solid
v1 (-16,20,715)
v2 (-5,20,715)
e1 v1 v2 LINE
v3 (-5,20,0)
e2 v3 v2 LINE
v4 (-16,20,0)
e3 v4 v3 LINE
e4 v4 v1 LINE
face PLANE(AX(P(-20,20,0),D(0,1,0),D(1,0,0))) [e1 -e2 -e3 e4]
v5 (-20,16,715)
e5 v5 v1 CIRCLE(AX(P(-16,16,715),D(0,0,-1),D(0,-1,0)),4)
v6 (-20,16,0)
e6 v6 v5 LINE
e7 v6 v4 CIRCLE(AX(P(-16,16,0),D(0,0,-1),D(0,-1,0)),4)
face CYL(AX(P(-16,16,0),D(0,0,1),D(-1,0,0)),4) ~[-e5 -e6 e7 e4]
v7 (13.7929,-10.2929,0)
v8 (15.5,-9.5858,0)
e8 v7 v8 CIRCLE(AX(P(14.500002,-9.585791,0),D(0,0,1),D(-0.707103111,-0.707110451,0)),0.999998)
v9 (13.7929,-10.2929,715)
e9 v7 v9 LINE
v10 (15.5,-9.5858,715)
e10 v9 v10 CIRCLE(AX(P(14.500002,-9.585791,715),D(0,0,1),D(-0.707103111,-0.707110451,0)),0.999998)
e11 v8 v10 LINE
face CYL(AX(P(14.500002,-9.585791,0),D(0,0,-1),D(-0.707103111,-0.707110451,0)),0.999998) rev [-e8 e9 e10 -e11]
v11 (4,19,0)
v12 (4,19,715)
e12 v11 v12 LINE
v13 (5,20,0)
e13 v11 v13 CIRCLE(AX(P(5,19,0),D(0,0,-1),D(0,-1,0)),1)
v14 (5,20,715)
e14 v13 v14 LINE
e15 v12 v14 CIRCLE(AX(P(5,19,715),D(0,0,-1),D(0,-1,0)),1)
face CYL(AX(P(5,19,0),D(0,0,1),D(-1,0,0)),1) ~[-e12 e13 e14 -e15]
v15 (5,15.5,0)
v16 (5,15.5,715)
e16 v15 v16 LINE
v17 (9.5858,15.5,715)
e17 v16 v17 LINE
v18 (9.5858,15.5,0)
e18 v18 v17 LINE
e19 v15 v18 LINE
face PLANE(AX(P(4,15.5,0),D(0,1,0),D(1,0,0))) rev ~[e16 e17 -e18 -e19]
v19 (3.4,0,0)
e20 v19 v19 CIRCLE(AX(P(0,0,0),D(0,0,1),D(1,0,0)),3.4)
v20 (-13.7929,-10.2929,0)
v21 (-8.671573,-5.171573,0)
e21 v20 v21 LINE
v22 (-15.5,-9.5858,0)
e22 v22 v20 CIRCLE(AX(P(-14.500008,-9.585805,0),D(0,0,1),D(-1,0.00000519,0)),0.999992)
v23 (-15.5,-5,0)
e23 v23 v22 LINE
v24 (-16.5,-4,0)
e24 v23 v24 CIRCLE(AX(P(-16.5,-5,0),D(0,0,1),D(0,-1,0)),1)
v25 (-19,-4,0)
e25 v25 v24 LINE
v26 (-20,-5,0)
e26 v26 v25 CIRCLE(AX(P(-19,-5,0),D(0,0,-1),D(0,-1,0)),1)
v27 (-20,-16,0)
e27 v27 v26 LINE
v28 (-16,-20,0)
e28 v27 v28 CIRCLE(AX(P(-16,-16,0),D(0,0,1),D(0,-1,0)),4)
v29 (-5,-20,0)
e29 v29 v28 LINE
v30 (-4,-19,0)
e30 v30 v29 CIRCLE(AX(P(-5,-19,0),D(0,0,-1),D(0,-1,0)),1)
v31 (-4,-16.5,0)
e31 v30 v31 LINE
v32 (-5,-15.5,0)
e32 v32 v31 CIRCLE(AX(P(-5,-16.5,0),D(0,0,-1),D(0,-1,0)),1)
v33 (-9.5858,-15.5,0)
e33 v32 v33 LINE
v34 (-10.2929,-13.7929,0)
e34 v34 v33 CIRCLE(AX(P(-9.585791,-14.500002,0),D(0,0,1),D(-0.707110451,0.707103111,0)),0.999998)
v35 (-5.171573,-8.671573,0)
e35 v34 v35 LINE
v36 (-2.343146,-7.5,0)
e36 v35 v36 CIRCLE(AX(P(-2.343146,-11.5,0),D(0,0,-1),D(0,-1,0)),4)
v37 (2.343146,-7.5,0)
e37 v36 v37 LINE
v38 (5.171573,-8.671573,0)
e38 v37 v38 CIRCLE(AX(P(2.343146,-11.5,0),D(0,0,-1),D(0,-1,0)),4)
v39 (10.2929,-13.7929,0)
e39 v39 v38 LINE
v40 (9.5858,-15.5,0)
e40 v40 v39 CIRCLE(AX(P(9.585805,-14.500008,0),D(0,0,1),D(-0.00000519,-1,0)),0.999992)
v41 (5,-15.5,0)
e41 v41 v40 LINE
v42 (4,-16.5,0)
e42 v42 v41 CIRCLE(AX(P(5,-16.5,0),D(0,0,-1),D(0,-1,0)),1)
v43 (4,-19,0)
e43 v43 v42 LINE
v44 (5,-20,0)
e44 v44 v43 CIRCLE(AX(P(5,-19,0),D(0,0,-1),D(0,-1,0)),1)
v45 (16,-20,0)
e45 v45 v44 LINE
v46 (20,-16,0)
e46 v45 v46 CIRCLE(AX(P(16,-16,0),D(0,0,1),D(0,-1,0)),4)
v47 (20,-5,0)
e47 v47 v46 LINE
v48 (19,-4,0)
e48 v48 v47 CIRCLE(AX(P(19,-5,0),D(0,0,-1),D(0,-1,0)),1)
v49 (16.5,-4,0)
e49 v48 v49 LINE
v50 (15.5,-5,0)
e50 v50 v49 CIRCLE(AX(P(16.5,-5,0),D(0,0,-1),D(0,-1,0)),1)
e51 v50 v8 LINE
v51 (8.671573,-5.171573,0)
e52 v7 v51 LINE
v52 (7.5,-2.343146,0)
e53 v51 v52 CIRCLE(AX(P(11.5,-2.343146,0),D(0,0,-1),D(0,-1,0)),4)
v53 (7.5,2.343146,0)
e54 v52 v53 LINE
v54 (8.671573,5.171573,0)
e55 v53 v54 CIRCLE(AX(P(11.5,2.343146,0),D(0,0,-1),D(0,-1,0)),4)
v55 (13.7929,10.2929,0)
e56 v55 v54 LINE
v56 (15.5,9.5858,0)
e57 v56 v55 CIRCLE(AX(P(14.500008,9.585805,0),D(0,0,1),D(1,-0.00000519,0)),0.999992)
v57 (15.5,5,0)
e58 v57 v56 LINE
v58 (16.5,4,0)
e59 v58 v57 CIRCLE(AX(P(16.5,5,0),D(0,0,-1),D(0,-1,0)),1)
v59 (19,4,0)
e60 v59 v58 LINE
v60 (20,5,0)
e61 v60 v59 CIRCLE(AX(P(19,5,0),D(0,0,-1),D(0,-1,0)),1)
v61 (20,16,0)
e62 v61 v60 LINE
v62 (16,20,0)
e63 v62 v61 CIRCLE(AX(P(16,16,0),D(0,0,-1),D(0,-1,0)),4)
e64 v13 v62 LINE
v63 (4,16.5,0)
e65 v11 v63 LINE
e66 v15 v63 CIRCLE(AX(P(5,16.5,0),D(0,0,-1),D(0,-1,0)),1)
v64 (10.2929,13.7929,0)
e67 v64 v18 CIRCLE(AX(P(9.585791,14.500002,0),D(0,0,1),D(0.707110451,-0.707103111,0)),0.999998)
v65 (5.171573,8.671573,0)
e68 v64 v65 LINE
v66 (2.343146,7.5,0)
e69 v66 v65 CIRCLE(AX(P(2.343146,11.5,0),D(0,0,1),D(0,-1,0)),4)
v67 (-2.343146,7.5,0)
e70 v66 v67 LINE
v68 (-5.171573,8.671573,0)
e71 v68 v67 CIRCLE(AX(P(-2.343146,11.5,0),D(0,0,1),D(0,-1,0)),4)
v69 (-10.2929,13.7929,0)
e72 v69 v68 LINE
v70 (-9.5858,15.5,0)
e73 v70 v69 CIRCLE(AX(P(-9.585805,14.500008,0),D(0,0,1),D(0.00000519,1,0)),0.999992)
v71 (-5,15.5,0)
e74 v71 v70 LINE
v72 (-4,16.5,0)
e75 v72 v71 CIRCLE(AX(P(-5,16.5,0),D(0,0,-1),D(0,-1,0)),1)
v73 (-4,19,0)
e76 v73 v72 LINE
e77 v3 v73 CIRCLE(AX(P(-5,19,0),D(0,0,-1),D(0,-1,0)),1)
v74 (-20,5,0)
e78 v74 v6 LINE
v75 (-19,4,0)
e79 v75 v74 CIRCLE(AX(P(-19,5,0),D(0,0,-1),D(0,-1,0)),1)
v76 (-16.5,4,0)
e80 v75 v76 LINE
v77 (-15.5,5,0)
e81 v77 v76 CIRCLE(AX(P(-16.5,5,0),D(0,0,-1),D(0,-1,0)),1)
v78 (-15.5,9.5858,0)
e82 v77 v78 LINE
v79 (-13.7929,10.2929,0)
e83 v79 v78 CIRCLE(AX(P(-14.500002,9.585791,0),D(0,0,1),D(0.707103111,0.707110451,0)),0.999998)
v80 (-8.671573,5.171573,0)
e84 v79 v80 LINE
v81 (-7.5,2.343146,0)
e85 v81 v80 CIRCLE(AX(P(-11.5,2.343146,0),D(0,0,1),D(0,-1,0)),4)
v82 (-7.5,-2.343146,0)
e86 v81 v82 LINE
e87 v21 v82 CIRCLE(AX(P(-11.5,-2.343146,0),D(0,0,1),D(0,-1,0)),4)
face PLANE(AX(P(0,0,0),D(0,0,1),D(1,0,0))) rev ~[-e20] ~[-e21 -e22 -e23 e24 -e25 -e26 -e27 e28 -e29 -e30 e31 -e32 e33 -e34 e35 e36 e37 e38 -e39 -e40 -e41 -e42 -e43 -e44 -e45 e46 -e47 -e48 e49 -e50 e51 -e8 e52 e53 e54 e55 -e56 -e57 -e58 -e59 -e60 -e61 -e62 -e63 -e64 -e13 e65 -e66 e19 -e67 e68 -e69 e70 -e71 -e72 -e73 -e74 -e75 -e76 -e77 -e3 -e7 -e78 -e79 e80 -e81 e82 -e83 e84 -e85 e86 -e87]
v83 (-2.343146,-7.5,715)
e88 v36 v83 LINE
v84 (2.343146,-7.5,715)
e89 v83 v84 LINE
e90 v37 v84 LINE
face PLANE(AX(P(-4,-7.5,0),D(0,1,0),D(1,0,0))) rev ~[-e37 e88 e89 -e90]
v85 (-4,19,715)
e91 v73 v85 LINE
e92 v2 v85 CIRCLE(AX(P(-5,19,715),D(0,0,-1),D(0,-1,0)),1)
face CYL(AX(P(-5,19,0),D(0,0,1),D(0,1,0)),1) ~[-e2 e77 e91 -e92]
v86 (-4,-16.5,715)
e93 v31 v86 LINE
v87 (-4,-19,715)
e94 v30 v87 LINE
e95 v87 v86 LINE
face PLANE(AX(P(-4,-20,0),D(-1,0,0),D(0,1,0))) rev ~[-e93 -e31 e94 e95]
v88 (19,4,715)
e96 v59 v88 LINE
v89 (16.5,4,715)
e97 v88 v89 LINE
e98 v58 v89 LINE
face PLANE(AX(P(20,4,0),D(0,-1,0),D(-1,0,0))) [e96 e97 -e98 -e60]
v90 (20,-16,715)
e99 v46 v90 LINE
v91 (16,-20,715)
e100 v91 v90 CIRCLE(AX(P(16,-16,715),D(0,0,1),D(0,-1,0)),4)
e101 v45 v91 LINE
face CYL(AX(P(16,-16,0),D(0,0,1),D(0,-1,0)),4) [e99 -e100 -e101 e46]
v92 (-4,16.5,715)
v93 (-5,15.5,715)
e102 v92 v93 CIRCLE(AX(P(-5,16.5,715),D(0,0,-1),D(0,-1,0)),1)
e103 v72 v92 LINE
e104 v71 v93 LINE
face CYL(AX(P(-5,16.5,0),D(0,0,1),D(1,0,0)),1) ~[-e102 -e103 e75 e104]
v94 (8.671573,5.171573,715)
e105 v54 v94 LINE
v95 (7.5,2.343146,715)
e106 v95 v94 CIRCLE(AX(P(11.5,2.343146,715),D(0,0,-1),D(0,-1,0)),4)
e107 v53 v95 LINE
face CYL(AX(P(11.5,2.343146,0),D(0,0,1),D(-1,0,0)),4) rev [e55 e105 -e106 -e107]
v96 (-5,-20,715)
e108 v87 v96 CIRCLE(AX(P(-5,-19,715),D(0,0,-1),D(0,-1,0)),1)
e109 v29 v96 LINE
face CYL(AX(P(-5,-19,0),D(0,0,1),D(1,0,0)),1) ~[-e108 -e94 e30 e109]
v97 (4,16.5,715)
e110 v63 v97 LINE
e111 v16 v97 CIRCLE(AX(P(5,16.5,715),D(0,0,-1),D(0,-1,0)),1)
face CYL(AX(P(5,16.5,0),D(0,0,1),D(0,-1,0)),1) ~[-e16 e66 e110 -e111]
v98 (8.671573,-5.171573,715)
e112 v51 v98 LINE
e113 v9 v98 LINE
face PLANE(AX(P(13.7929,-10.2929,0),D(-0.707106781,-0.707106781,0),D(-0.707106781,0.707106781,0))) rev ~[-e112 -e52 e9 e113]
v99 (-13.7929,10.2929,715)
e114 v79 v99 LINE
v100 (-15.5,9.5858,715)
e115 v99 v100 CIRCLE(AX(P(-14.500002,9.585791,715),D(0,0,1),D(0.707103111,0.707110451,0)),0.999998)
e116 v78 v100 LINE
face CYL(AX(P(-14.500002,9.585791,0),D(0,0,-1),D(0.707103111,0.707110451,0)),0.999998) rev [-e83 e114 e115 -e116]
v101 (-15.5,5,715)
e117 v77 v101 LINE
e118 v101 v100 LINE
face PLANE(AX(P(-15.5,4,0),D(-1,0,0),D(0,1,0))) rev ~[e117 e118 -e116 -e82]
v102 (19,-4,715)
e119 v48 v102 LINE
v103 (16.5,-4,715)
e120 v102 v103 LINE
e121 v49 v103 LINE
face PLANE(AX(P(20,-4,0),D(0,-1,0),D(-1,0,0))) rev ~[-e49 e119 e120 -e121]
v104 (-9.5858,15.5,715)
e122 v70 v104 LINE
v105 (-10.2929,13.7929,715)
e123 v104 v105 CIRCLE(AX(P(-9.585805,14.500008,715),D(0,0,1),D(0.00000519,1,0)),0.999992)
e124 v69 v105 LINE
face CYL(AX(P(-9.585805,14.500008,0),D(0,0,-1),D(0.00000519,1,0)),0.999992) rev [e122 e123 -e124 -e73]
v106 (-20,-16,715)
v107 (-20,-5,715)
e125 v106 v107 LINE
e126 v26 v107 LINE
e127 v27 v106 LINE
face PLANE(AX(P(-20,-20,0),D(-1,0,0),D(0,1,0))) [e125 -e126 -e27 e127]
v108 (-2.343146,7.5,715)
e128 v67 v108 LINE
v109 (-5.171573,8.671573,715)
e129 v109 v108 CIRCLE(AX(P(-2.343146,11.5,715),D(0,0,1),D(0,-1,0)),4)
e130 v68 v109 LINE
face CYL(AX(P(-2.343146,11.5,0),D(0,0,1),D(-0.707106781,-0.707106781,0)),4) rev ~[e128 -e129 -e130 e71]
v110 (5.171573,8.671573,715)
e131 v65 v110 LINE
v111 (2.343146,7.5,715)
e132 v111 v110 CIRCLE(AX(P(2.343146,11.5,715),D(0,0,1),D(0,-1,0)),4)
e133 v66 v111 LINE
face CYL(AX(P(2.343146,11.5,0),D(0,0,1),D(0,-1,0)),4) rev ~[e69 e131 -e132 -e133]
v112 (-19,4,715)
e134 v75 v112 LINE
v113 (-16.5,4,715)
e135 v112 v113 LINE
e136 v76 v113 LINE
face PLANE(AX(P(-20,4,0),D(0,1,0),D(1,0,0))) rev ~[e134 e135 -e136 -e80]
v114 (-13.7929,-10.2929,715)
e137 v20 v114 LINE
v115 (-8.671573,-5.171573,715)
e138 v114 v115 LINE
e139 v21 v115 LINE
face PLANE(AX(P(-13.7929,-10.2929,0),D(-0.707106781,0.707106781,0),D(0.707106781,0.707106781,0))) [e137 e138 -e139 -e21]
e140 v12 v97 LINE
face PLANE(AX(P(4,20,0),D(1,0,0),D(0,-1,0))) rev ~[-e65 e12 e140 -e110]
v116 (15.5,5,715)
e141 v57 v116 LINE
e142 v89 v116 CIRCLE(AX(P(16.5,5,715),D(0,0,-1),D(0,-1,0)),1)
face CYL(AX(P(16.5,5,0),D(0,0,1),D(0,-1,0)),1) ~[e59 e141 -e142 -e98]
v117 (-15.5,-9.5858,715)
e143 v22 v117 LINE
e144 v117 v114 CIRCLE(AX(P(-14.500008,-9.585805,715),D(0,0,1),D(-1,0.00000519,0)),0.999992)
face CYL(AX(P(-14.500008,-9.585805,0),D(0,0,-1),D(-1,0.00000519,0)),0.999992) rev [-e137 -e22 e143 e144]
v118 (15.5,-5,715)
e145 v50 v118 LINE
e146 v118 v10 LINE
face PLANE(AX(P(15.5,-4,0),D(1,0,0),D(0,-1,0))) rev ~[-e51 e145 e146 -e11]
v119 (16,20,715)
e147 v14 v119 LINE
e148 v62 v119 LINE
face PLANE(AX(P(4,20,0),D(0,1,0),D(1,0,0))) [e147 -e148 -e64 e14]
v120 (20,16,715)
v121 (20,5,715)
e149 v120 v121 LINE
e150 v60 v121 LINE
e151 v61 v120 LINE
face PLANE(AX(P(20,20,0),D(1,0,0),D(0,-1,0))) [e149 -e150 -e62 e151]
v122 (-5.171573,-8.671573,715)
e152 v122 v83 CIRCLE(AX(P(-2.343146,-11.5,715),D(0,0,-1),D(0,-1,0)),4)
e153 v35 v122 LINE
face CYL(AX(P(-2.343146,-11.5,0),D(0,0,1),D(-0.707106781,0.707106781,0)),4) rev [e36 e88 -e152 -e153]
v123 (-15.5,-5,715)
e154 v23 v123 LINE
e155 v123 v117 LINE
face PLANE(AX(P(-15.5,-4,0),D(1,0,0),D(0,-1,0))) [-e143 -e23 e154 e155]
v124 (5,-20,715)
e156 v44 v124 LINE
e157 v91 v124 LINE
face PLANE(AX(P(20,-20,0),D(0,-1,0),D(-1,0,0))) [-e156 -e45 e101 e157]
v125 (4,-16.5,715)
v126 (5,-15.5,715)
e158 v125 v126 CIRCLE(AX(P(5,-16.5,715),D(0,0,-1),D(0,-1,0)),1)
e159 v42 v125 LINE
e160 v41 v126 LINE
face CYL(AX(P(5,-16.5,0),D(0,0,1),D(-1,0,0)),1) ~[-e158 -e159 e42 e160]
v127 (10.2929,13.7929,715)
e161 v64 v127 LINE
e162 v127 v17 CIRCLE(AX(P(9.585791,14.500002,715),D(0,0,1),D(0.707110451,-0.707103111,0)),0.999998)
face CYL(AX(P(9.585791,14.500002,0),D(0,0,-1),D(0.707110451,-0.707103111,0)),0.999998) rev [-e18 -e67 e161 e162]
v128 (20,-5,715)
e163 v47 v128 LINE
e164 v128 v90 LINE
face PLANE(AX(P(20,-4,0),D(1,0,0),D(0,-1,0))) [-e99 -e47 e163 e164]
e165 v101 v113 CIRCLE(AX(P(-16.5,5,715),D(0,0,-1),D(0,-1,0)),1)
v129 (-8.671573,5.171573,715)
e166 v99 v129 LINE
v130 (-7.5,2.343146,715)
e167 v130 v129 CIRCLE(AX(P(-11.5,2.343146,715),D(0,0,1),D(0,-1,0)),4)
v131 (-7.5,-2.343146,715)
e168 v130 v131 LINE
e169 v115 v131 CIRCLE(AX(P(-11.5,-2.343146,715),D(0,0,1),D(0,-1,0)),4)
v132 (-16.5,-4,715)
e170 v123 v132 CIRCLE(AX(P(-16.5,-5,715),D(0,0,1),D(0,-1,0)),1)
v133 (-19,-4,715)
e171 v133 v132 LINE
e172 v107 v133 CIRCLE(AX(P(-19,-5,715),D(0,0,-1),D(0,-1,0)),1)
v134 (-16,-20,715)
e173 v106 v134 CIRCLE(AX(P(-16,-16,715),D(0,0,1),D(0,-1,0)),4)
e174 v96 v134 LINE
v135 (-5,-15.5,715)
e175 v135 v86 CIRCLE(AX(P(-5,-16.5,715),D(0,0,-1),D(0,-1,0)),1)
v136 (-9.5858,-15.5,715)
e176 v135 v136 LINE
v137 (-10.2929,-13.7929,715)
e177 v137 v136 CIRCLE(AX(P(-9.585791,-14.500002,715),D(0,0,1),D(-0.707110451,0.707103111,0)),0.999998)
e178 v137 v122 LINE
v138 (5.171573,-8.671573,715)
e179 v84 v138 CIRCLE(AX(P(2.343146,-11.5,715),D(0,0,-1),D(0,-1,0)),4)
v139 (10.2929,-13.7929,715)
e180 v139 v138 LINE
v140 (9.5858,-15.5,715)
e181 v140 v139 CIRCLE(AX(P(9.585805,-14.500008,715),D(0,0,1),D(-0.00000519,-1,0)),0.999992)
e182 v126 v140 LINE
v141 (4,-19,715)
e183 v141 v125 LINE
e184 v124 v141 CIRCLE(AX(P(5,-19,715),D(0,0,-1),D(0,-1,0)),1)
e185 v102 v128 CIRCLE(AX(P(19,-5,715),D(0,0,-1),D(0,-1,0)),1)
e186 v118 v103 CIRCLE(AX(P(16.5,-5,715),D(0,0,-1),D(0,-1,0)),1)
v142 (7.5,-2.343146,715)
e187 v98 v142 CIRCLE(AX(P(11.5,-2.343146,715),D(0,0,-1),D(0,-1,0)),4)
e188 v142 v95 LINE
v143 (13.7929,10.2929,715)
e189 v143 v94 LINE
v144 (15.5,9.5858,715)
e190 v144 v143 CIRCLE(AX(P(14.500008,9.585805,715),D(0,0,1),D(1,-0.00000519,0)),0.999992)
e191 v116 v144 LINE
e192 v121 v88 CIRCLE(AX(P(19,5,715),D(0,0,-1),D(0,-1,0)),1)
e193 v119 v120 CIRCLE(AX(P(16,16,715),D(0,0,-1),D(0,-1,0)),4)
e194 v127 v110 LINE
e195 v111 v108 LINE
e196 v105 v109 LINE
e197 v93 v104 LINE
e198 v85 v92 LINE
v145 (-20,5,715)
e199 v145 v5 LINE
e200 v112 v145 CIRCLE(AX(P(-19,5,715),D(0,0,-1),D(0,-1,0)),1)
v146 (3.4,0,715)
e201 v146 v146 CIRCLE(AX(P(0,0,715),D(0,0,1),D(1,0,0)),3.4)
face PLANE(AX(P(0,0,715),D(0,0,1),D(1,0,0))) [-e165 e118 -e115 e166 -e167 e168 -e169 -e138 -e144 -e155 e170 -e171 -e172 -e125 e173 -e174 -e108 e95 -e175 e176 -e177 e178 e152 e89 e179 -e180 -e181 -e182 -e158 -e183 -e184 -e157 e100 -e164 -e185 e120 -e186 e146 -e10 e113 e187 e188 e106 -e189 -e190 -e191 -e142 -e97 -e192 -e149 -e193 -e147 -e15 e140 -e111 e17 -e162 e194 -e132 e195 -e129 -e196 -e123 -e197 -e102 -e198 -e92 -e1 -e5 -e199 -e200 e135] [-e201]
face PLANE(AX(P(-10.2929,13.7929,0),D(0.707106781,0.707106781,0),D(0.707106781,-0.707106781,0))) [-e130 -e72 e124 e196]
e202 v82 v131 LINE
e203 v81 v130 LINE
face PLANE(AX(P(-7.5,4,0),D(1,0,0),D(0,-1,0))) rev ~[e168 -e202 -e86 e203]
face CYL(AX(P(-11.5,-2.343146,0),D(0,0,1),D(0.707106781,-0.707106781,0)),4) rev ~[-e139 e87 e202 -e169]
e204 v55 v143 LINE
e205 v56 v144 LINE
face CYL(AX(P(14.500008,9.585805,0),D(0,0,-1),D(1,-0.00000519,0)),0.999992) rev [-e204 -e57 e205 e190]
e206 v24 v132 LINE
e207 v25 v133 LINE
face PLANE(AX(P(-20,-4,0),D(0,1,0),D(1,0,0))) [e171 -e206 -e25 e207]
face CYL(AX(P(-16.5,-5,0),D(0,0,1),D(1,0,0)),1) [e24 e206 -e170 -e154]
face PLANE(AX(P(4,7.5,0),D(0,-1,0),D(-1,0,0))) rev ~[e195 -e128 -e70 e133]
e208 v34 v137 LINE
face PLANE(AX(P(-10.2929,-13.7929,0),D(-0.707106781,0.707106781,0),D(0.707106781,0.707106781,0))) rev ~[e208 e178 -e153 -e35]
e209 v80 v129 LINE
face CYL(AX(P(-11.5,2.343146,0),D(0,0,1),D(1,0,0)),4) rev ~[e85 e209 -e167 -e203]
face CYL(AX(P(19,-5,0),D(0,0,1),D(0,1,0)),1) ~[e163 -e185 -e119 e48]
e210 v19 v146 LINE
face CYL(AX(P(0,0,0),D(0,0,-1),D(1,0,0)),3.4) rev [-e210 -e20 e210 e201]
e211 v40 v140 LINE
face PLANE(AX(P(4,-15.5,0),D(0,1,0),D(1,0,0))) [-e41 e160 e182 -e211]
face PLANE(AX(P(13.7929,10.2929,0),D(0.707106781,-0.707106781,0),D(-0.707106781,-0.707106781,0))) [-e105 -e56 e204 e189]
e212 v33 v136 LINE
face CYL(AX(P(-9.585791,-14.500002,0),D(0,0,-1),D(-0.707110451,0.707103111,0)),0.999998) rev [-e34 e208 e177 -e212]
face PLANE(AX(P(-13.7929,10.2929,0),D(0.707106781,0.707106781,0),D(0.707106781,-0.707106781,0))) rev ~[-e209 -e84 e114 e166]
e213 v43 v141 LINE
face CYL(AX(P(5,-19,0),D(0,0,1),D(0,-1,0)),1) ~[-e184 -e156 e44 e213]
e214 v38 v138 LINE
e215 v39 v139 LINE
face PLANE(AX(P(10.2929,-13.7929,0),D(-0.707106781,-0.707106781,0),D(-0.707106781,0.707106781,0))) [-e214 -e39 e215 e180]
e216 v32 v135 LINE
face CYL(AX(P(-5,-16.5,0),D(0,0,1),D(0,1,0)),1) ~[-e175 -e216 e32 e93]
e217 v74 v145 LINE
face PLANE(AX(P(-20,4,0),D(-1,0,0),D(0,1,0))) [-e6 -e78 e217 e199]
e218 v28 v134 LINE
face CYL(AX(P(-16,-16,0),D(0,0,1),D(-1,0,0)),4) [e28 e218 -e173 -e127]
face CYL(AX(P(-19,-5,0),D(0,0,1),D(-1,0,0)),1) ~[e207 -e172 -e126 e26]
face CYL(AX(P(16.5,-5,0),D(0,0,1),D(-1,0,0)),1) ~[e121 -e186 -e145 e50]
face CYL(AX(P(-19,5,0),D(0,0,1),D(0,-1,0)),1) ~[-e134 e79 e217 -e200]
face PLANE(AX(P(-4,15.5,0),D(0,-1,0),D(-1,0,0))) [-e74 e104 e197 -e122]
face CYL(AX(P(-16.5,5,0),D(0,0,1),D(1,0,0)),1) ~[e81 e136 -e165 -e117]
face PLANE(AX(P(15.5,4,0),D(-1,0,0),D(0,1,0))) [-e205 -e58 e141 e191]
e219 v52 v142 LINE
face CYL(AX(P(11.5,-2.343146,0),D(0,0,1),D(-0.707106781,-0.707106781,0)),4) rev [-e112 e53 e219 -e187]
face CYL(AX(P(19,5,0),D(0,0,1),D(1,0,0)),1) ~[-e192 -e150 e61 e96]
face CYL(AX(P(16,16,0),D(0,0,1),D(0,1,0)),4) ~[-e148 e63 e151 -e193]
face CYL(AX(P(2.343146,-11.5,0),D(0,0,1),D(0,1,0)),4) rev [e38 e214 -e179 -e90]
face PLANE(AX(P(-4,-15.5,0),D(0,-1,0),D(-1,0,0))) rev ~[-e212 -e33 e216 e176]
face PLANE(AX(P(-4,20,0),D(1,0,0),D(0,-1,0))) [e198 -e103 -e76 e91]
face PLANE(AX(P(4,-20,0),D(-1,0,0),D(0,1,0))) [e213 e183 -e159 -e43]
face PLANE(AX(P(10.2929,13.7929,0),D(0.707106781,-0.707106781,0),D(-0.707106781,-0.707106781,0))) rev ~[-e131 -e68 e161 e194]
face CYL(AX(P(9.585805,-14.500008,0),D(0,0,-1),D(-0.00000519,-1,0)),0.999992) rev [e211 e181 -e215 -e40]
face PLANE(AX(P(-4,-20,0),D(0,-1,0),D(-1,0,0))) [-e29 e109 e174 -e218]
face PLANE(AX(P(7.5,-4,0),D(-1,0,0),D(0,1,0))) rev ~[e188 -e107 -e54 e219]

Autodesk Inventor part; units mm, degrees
ref_plane "YZ Plane" through (0, 0, 0) normal (1, 0, 0) x (0, 1, 0)
ref_plane "XZ Plane" through (0, 0, 0) normal (0, 1, 0) x (-1, 0, 0)
ref_plane "XY Plane" through (0, 0, 0) normal (0, 0, 1) x (1, 0, 0)
sketch "T-Slot 4040 Base" plane through (0, 0, 0) normal (0, 0, 1) x (1, 0, 0)
  line L0 (-28, 0) -> (28, 0) construction
  line L1 (0, -28) -> (0, 28) construction
  circle A0 centre (0, 0) radius 3.4
  line L2 (-7.5, -7.5) -> (7.5, -7.5)
  line L3 (7.5, -7.5) -> (7.5, 7.5)
  line L4 (7.5, 7.5) -> (-7.5, 7.5)
  line L5 (-7.5, 7.5) -> (-7.5, -7.5)
  line L6 (-7.5, -7.5) -> (7.5, 7.5) construction
  line L7 (7.5, -7.5) -> (-7.5, 7.5) construction
  line L8 (20, 4) -> (15.5, 4)
  line L9 (15.5, 4) -> (15.5, 12)
  line L10 (15.5, 12) -> (7.5, 4)
  line L11 (4, 20) -> (4, 15.5)
  line L12 (4, 15.5) -> (12, 15.5)
  line L13 (12, 15.5) -> (4, 7.5)
  line L14 (7.5, -7.5) -> (-7.5, -7.5)
  arc A1 (15.5, 9.5858) -> (13.7929, 10.2929) centre (14.5, 9.5858) ccw
  arc A2 (10.2929, 13.7929) -> (9.5858, 15.5) centre (9.5858, 14.5) ccw
  line L15 (-20, 20) -> (20, 20)
  line L16 (20, 20) -> (20, -20)
  line L17 (20, -20) -> (-20, -20)
  line L18 (-20, -20) -> (-20, 20)
  line L19 (-20, 20) -> (20, -20) construction
  line L20 (20, 20) -> (-20, -20) construction
  line L21 (-4, 15.5) -> (-12, 15.5)
  arc A3 (-9.5858, 15.5) -> (-10.2929, 13.7929) centre (-9.5858, 14.5) ccw
  line L22 (-12, 15.5) -> (-4, 7.5)
  line L23 (-15.5, 12) -> (-7.5, 4)
  line L24 (-20, 4) -> (-15.5, 4)
  arc A4 (-13.7929, 10.2929) -> (-15.5, 9.5858) centre (-14.5, 9.5858) ccw
  line L25 (-15.5, 4) -> (-15.5, 12)
  line L26 (-4, 20) -> (-4, 15.5)
  line L27 (-15.5, -4) -> (-15.5, -12)
  arc A5 (-15.5, -9.5858) -> (-13.7929, -10.2929) centre (-14.5, -9.5858) ccw
  line L28 (-15.5, -12) -> (-7.5, -4)
  line L29 (-12, -15.5) -> (-4, -7.5)
  line L30 (-4, -20) -> (-4, -15.5)
  arc A6 (-10.2929, -13.7929) -> (-9.5858, -15.5) centre (-9.5858, -14.5) ccw
  line L31 (-4, -15.5) -> (-12, -15.5)
  line L32 (-20, -4) -> (-15.5, -4)
  line L33 (4, -15.5) -> (12, -15.5)
  arc A7 (9.5858, -15.5) -> (10.2929, -13.7929) centre (9.5858, -14.5) ccw
  line L34 (12, -15.5) -> (4, -7.5)
  line L35 (15.5, -12) -> (7.5, -4)
  line L36 (20, -4) -> (15.5, -4)
  arc A8 (13.7929, -10.2929) -> (15.5, -9.5858) centre (14.5, -9.5858) ccw
  line L37 (15.5, -4) -> (15.5, -12)
  line L38 (4, -20) -> (4, -15.5)
  point P0 (4.9274, 7.75)
  point P1 (9.5858, 15.5)
  point P2 (-20, 20)
  point P3 (-7.5, -7.5)
  point P4 (-20, -20)
  point P5 (7.5, -7.5)
  point P6 (20, -20)
  point P7 (-9.5858, -15.5)
  point P8 (-4, -7.5)
  point P9 (15.5, -9.5858)
  point P10 (7.5, -4)
  point P11 (-15.5, 9.5858)
  point P12 (-4, 7.5)
  dimension "d35" = 6.8
  dimension "d37" = 12
  dimension "d38" = 1
  dimension "d43" = 40
  dimension "d44" = 40
  dimension "d45" = 4.5
  dimension "d46" = 4
  dimension "d53" = 360
extrude "Extrusion1" add sketch "T-Slot 4040 Base" along normal blind 715 contours L5 L4 L3 L2 | L2 L29 L31 L30 L17 L18 L32 L27 L28 L5 | L2 L3 L35 L37 L36 L16 L17 L38 L33 L34 | A6 L31 L29 | L23 L25 L24 L18 L15 L26 L21 L22 L4 L5 | L28 L27 A5 | L34 L33 A7 | A4 L25 L23 | L3 L4 L13 L12 L11 L15 L16 L8 L9 L10 | A8 L37 L35 | L22 L21 A3 | L10 L9 A1 | A2 L12 L13
fillet "Rundung1" radius 1 16 edges at (4, 15.5, 357.5) (15.5, 4, 357.5) (20, 4, 357.5) (4, 20, 357.5) (-20, 4, 357.5) (-15.5, 4, 357.5) (-4, 15.5, 357.5) (-4, 20, 357.5) (-4, -15.5, 357.5) (-4, -20, 357.5) (4, -15.5, 357.5) (4, -20, 357.5) (15.5, -4, 357.5) (20, -4, 357.5) (-20, -4, 357.5) (-15.5, -4, 357.5)
fillet "Rundung2" radius 4 12 edges at (4, 7.5, 357.5) (7.5, 4, 357.5) (-20, 20, 357.5) (-20, -20, 357.5) (20, 20, 357.5) (20, -20, 357.5) (7.5, -4, 357.5) (-7.5, -4, 357.5) (-7.5, 4, 357.5) (4, -7.5, 357.5) (-4, -7.5, 357.5) (-4, 7.5, 357.5)
properties part number "T-SLOT 4040 B-Type 715mm"
